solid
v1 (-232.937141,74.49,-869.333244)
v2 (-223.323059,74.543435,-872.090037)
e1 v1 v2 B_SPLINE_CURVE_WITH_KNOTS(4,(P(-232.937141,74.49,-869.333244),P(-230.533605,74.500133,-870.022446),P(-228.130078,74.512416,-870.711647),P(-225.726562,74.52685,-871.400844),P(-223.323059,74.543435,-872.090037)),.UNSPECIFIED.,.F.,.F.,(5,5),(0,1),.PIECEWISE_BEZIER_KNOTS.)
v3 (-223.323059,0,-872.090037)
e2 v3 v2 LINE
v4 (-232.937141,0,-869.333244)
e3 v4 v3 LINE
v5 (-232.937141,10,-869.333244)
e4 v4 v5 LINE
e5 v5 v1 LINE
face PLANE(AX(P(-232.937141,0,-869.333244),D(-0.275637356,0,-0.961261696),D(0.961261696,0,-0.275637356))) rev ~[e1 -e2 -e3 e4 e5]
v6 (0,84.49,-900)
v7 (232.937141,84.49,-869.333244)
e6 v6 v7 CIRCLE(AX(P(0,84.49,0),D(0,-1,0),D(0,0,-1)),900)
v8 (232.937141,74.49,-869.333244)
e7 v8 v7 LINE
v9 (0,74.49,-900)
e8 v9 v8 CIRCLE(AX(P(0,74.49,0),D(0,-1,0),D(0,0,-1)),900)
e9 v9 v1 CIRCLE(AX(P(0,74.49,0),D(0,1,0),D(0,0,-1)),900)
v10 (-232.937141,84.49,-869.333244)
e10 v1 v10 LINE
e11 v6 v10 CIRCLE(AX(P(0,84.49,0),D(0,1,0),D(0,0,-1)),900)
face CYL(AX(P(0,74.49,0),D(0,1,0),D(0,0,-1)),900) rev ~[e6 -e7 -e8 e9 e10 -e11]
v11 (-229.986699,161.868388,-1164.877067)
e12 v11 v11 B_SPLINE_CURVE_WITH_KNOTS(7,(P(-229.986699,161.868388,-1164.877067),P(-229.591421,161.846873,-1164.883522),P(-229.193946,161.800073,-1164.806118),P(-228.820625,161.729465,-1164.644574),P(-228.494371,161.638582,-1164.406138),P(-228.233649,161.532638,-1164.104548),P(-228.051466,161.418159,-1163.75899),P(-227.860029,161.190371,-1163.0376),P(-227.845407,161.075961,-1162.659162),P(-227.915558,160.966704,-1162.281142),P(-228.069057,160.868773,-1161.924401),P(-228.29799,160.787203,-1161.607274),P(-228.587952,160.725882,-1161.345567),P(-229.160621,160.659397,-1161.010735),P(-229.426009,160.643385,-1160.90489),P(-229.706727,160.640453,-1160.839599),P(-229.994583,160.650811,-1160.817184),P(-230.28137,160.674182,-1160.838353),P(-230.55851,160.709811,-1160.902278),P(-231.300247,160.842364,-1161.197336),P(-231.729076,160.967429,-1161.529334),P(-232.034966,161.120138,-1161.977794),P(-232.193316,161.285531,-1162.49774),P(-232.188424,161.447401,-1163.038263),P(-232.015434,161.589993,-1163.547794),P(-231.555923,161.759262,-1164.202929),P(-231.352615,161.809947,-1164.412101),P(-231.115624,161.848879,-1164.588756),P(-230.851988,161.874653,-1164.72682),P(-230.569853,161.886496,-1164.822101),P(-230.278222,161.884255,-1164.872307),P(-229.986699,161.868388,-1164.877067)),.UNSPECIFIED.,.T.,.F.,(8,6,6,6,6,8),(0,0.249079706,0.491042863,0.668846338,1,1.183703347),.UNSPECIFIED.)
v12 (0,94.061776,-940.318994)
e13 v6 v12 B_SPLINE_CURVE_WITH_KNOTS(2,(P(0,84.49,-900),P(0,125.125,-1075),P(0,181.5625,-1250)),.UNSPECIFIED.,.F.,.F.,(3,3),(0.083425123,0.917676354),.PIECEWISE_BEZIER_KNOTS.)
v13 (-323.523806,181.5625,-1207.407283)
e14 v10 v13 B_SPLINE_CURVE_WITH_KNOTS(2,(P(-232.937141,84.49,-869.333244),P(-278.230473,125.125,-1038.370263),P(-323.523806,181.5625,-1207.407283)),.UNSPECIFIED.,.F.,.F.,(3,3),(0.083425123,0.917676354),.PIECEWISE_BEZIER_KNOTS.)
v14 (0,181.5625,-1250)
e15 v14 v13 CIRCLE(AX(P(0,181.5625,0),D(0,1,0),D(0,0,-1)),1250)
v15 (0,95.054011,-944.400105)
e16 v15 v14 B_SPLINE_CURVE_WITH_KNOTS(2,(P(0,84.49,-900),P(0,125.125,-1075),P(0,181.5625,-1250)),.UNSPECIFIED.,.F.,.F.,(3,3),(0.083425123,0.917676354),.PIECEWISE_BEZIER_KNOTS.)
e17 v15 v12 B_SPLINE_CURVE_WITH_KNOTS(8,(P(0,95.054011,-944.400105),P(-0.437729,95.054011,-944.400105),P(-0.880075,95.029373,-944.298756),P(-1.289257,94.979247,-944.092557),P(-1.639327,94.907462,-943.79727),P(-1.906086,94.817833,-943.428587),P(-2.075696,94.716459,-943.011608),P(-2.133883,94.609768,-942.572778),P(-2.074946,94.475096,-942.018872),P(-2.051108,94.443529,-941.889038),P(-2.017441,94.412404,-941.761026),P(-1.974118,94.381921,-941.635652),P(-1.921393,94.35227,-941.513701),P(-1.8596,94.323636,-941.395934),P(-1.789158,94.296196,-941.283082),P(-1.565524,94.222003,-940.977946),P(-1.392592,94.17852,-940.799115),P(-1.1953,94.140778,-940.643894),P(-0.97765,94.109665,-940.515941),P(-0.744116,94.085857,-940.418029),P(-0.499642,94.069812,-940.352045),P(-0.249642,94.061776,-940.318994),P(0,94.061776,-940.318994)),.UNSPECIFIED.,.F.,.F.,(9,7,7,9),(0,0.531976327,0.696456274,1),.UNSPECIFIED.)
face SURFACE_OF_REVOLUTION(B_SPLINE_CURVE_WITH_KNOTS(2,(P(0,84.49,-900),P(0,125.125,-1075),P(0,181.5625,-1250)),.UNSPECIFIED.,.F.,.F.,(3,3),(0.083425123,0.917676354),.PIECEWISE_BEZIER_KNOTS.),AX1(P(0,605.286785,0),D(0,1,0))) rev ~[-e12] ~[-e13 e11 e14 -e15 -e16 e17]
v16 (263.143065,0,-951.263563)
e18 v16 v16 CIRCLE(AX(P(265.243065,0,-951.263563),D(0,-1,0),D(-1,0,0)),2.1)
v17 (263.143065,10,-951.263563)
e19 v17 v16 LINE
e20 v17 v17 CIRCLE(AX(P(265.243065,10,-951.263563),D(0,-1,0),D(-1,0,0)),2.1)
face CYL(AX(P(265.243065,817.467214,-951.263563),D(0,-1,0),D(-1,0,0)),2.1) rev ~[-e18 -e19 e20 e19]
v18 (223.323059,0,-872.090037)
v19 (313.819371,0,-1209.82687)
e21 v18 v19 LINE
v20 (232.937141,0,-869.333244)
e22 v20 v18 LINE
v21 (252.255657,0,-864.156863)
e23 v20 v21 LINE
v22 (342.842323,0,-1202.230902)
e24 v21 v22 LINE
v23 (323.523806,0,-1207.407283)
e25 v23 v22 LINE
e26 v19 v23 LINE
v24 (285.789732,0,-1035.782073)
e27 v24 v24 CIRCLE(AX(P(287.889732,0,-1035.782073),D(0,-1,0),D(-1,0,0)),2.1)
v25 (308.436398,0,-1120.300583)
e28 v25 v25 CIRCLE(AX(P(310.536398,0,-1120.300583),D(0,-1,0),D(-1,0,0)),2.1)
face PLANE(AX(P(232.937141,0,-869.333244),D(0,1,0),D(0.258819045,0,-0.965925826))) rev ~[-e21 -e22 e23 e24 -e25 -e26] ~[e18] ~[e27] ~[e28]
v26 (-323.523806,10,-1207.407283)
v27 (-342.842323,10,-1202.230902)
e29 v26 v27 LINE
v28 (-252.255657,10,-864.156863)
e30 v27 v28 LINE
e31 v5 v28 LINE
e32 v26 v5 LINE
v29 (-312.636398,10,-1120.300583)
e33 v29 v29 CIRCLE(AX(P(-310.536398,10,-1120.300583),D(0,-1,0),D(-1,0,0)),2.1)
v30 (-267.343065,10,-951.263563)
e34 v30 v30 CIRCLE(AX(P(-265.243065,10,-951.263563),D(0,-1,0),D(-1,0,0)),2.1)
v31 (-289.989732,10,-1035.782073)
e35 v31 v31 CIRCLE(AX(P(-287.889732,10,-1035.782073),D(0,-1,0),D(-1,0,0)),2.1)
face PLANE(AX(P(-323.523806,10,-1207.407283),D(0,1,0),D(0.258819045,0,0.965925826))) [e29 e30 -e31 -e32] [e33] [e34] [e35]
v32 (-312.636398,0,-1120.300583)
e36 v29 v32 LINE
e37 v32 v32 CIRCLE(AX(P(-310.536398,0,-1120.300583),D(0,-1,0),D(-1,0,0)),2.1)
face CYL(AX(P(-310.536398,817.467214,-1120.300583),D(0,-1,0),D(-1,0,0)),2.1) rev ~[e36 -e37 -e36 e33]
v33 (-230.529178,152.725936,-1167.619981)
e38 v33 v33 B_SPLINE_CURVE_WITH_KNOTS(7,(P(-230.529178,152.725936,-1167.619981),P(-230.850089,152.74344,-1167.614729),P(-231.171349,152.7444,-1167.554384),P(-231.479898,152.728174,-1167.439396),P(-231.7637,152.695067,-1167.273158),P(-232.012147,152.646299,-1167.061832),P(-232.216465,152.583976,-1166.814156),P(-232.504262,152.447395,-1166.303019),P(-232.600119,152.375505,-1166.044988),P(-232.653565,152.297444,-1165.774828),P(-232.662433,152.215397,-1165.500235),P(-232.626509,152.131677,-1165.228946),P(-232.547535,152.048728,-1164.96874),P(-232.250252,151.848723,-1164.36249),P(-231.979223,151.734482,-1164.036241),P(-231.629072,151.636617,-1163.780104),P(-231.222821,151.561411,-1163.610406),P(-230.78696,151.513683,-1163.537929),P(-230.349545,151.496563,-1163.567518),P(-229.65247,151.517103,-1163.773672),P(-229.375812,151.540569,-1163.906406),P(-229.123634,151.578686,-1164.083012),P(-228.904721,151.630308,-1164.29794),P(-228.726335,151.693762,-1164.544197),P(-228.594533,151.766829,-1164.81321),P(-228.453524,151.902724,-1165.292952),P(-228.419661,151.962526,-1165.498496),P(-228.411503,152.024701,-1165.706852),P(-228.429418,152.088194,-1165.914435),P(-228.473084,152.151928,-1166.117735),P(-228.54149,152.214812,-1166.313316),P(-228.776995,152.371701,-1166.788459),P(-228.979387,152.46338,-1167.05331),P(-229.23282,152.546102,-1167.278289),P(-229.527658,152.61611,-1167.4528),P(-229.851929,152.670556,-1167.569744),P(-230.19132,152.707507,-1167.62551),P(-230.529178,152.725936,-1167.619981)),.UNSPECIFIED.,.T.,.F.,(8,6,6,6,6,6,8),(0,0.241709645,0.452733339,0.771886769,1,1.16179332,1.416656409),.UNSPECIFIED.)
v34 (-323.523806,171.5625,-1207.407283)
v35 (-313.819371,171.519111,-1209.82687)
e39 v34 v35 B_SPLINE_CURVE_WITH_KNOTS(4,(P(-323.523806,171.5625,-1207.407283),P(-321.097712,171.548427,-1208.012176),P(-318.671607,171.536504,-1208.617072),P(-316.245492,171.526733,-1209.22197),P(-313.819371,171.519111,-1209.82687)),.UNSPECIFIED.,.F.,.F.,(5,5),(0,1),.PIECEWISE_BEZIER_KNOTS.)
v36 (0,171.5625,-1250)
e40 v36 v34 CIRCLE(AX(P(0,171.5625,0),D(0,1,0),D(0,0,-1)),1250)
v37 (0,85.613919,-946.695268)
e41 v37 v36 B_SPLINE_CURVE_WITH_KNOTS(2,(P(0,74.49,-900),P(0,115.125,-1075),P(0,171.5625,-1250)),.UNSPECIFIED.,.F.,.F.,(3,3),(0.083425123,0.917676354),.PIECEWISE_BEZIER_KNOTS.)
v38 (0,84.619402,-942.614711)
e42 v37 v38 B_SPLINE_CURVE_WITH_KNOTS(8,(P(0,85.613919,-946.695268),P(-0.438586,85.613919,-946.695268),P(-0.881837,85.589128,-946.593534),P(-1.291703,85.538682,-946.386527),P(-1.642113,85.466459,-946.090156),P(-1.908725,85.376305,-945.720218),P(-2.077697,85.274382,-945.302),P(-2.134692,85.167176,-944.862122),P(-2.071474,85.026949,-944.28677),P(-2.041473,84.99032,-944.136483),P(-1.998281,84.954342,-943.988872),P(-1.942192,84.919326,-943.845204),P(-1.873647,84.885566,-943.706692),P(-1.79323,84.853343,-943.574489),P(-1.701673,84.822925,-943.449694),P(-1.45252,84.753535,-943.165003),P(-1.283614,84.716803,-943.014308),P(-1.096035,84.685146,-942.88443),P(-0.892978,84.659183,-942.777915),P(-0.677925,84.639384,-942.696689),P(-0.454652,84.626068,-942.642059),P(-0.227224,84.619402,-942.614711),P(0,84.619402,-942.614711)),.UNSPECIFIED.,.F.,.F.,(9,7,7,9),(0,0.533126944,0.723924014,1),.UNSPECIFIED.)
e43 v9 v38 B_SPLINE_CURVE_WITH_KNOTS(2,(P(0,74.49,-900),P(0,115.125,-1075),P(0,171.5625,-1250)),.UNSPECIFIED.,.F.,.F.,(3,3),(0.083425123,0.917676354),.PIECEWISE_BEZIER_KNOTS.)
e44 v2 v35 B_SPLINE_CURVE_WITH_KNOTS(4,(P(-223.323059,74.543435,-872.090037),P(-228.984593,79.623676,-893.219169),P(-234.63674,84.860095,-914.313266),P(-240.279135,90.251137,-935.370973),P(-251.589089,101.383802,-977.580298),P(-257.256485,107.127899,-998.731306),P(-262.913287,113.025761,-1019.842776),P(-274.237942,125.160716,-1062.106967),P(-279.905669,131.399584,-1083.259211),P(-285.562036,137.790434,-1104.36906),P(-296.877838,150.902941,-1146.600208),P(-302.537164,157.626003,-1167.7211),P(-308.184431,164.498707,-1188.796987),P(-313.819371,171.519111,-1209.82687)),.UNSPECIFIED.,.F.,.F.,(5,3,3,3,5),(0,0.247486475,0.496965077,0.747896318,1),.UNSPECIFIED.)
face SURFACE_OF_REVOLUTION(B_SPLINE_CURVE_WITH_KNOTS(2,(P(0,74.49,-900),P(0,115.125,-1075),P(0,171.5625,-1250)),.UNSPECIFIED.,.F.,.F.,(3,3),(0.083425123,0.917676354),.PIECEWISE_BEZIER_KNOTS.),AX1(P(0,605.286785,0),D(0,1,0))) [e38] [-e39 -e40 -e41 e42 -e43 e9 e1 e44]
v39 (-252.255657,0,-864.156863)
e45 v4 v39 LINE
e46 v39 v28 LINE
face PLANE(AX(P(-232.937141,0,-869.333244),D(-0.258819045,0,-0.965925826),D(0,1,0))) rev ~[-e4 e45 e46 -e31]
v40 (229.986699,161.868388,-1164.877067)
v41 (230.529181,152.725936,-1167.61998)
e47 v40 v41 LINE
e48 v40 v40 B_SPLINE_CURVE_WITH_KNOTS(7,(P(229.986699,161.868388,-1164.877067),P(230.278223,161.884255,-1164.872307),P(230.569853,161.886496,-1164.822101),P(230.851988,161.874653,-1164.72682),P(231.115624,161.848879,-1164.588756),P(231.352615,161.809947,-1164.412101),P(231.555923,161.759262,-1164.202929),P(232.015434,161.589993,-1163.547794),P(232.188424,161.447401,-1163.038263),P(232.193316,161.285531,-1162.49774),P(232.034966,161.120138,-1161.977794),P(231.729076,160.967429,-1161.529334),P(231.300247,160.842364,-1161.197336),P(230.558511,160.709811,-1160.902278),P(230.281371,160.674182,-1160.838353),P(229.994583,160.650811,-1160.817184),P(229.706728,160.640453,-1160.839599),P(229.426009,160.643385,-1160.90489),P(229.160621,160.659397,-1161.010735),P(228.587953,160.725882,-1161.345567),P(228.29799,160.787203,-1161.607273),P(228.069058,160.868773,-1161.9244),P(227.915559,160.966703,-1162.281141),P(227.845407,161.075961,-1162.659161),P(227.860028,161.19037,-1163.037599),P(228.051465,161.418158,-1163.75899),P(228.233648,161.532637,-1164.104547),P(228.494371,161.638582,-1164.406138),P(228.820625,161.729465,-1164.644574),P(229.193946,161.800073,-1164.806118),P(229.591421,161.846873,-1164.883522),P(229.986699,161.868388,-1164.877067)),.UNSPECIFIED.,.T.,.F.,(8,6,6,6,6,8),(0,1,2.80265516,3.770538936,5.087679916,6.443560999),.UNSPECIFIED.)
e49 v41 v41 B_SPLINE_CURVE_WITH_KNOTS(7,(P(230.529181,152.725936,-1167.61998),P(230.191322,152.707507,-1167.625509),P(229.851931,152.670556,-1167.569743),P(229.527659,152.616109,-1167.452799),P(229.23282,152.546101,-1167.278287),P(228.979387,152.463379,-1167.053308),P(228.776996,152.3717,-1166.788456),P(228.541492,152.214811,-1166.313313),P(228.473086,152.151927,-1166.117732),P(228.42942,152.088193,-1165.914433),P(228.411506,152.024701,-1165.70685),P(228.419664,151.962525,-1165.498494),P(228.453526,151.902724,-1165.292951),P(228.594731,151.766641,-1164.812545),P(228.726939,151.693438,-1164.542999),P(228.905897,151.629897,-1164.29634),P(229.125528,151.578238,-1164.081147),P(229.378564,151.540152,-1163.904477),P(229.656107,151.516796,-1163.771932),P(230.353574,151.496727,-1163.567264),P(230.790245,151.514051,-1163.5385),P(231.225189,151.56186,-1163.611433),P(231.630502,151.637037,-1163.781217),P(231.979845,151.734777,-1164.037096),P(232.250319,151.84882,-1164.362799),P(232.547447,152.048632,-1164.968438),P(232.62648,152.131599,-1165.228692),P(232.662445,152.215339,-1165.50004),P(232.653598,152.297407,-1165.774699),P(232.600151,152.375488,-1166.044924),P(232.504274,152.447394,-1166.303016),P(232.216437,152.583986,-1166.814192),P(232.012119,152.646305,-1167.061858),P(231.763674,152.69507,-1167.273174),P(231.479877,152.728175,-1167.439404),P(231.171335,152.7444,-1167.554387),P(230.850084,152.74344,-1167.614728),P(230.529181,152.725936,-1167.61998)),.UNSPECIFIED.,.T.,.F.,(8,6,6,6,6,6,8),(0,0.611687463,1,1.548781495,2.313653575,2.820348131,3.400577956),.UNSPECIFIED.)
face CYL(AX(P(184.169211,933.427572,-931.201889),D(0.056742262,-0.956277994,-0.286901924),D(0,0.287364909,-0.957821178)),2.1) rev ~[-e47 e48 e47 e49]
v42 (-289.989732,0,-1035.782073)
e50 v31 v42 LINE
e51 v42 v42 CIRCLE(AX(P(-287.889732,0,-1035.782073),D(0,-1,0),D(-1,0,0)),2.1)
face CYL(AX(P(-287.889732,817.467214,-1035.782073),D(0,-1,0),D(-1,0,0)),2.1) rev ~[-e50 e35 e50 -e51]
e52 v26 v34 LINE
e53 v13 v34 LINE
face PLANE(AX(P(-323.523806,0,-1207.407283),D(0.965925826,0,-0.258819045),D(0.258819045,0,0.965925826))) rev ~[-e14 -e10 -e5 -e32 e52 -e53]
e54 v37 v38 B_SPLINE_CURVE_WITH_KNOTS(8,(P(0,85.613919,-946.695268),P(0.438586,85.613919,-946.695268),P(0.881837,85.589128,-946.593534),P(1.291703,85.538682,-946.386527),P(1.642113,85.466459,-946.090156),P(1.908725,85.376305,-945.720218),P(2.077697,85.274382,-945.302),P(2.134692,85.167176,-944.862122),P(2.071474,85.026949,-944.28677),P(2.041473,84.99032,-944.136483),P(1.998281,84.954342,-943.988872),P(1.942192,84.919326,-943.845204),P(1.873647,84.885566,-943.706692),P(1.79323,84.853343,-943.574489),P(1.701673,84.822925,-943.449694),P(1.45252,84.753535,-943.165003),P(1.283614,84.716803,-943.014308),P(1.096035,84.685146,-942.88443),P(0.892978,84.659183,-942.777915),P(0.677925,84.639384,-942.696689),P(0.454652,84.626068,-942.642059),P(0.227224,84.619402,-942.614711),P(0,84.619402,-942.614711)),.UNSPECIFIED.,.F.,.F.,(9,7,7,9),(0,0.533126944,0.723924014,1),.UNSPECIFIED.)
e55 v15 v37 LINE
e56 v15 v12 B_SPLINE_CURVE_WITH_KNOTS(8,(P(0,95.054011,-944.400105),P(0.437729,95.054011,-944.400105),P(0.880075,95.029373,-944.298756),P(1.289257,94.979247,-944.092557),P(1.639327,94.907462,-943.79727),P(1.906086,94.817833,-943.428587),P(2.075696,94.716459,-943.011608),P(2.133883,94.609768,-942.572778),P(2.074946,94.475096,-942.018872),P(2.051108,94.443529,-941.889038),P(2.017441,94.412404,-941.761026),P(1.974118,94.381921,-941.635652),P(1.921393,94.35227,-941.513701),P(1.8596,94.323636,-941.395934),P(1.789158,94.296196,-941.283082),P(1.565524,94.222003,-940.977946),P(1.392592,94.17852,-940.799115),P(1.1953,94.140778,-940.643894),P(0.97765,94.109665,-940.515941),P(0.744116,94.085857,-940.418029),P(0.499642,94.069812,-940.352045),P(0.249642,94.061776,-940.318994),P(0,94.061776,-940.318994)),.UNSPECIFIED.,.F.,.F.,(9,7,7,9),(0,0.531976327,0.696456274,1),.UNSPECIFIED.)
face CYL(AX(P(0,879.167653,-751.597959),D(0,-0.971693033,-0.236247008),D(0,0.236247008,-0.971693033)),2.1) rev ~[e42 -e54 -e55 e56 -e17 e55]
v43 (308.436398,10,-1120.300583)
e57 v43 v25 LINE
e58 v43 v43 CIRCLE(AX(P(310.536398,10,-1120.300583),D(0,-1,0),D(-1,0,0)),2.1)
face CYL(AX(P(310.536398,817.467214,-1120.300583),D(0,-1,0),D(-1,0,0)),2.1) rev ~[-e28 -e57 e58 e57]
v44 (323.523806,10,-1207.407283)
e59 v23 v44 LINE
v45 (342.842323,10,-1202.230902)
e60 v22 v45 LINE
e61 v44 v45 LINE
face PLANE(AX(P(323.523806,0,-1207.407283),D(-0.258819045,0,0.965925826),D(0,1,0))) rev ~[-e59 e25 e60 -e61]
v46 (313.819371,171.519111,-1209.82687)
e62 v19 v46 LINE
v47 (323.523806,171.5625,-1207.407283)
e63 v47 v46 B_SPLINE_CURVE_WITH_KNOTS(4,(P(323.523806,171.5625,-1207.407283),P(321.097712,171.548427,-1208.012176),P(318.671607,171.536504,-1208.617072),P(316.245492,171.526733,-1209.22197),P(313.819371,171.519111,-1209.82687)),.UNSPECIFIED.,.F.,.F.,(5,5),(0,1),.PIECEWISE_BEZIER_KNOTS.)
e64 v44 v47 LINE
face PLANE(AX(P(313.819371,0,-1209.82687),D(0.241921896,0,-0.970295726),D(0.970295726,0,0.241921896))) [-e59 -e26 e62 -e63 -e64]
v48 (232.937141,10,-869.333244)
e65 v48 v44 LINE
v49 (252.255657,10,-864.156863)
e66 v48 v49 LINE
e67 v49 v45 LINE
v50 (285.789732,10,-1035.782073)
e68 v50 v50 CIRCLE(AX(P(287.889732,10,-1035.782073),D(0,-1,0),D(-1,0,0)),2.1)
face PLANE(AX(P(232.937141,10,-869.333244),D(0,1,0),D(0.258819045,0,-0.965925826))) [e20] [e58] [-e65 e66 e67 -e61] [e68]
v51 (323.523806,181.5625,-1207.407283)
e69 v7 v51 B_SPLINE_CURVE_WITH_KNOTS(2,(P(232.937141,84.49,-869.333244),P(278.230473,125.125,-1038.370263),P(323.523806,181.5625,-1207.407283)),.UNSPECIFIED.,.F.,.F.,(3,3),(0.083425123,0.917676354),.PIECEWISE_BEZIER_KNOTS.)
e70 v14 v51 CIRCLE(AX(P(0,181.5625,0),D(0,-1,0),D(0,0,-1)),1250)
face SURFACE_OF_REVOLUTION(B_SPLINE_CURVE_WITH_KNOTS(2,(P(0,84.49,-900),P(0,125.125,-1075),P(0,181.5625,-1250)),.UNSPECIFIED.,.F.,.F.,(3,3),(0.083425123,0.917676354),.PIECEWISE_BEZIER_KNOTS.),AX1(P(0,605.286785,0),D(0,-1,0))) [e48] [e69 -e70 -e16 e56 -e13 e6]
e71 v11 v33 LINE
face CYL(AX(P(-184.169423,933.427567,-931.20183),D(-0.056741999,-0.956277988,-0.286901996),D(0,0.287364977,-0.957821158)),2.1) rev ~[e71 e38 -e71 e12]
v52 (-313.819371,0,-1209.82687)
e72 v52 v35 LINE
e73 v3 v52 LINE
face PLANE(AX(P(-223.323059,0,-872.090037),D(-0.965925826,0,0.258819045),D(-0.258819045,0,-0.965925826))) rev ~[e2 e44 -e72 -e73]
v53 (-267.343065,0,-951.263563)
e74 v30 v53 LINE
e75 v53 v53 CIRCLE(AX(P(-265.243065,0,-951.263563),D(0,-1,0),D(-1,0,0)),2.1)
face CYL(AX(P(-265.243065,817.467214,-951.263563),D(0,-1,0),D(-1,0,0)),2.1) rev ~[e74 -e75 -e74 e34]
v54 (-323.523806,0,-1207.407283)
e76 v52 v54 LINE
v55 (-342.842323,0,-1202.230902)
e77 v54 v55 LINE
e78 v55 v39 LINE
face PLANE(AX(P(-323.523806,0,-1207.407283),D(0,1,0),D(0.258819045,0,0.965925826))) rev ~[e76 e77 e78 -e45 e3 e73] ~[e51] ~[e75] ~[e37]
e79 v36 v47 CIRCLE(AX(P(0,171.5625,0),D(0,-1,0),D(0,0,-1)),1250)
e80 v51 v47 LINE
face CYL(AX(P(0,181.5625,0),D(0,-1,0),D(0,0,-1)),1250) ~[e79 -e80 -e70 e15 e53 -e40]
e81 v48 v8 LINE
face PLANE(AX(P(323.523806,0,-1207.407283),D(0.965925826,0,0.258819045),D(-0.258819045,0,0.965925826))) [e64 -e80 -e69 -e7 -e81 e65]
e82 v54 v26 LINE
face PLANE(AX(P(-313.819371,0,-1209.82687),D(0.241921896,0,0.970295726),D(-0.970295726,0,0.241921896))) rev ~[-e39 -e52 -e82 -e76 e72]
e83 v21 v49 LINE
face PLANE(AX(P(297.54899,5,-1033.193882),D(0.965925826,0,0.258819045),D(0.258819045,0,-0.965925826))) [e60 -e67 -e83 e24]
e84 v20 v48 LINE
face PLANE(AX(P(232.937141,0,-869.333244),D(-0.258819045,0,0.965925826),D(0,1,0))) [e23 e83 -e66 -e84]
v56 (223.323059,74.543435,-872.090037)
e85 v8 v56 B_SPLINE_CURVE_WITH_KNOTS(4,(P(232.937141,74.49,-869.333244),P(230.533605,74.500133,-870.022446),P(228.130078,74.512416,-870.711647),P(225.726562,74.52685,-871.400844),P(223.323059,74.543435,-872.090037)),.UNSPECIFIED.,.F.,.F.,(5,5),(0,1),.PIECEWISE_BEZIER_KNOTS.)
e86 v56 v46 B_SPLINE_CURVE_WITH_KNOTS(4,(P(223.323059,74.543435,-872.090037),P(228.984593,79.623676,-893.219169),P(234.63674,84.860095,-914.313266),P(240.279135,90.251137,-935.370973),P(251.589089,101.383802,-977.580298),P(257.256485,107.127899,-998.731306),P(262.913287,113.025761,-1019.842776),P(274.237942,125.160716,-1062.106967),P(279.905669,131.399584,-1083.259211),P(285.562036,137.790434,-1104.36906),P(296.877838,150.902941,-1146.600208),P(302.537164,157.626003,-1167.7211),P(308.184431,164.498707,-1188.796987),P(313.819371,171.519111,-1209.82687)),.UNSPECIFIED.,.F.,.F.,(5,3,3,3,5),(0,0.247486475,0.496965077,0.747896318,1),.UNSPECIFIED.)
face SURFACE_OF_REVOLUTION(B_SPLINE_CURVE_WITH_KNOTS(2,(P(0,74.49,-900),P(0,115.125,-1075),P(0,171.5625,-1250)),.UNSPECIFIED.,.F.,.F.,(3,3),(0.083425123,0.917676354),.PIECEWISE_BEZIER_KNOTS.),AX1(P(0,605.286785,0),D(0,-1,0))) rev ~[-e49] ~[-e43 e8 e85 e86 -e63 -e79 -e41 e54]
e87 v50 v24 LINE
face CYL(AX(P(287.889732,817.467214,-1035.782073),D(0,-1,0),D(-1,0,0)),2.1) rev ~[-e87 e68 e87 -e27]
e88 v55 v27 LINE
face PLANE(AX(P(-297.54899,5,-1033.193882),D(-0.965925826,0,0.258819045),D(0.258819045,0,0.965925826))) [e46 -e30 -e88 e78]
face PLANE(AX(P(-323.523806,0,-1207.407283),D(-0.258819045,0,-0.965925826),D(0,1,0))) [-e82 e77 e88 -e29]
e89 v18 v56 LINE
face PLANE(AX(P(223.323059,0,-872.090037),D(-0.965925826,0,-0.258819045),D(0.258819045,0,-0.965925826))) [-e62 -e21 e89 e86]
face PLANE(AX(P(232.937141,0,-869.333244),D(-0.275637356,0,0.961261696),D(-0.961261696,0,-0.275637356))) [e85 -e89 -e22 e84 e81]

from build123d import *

# Parameters (mm, degrees)
REVOLVE_1_ANGLE             = 15
REVOLVE_1_OTHER_WAY_ANGLE   = 15
EXTRUDE_1_REACH             = 1305.891
SKETCH_6_W                  = 350.000000001
SKETCH_6_H                  = 10
EXTRUDE_2_DEPTH             = 20
SKETCH_7_W                  = 350.000000001
SKETCH_7_H                  = 10
EXTRUDE_3_DEPTH             = 20
HOLE_WIZARD_M51_D           = 4.2
HOLE_WIZARD_M51_ON_FACE_2_D = 4.2
HOLE_WIZARD_M51_ON_FACE_3_D = 4.2
HOLE_WIZARD_M52_D           = 4.2


with BuildPart() as part:
    # Эскиз2 → Повернуть1 (revolve)
    with BuildSketch(Plane(origin=(0, 0, 0), x_dir=(0, 0, -1), z_dir=(1, 0, 0))):
        with BuildLine():
            Line((1250.000000001, 181.562500008), (1250.000000001, 171.562500008))
            add(Edge.make_bspline(
                [(900, 74.490000004), (1075.000000001, 115.125000006), (1250.000000001, 171.562500008)],
                knots=[0.083425123, 0.083425123, 0.083425123, 0.917676354, 0.917676354, 0.917676354], degree=2))
            Line((900, 74.490000004), (900, 84.490000004))
            add(Edge.make_bspline(
                [(900, 84.490000004), (1075.000000001, 125.125000006), (1250.000000001, 181.562500008)],
                knots=[0.083425123, 0.083425123, 0.083425123, 0.917676354, 0.917676354, 0.917676354], degree=2))
        make_face()
    revolve(axis=Axis((0, 605.286784652, 0), (0, -1, 0)), revolution_arc=REVOLVE_1_ANGLE)

    # Эскиз2 → Повернуть1 other way (revolve)
    with BuildSketch(Plane(origin=(0, 0, 0), x_dir=(0, 0, -1), z_dir=(1, 0, 0))):
        with BuildLine():
            Line((1250.000000001, 181.562500008), (1250.000000001, 171.562500008))
            add(Edge.make_bspline(
                [(900, 74.490000004), (1075.000000001, 115.125000006), (1250.000000001, 171.562500008)],
                knots=[0.083425123, 0.083425123, 0.083425123, 0.917676354, 0.917676354, 0.917676354], degree=2))
            Line((900, 74.490000004), (900, 84.490000004))
            add(Edge.make_bspline(
                [(900, 84.490000004), (1075.000000001, 125.125000006), (1250.000000001, 181.562500008)],
                knots=[0.083425123, 0.083425123, 0.083425123, 0.917676354, 0.917676354, 0.917676354], degree=2))
        make_face()
    revolve(axis=Axis((0, 605.286784652, 0), (0, 1, 0)), revolution_arc=REVOLVE_1_OTHER_WAY_ANGLE)

    # Эскиз5 → Бобышка-Вытянуть1 (add, up to next)
    with BuildSketch(Plane(origin=(0, 0, 0), x_dir=(1, 0, 0), z_dir=(0, 1, 0)), mode=Mode.PRIVATE) as extrude_1_sk1:
        Polygon((-323.523806378, 1207.407282862), (-232.937140592, 869.33324366), (-223.323059362, 872.090037092), (-313.819371083, 1209.826870333), align=None)
    extrude_1_tool1 = extrude(extrude_1_sk1.sketch, amount=EXTRUDE_1_REACH, mode=Mode.PRIVATE) - part.part
    # Эскиз5 → Бобышка-Вытянуть1 (add, up to next)
    with BuildSketch(Plane(origin=(0, 0, 0), x_dir=(1, 0, 0), z_dir=(0, 1, 0)), mode=Mode.PRIVATE) as extrude_1_sk2:
        Polygon((323.523806378, 1207.407282862), (232.937140592, 869.33324366), (223.323059362, 872.090037092), (313.819371083, 1209.826870333), align=None)
    extrude_1_tool2 = extrude(extrude_1_sk2.sketch, amount=EXTRUDE_1_REACH, mode=Mode.PRIVATE) - part.part
    add(extrude_1_tool1.solids().sort_by_distance((-273.401648, 0, -1039.664143))[0])
    add(extrude_1_tool2.solids().sort_by_distance((273.401648, 0, -1039.664143))[0])

    # Эскиз6 → Бобышка-Вытянуть2 (add)
    with BuildSketch(Plane(origin=(0, 0, 0), x_dir=(0.25881904510252135, 0, 0.9659258262890682), z_dir=(-0.9659258262890681, 0, 0.2588190451025213))):
        with Locations((-1075, 5)):
            Rectangle(SKETCH_6_W, SKETCH_6_H)
    extrude(amount=EXTRUDE_2_DEPTH)

    # Эскиз7 → Бобышка-Вытянуть3 (add)
    with BuildSketch(Plane(origin=(0, 0, 0), x_dir=(0.25881904510252124, 0, -0.9659258262890682), z_dir=(0.9659258262890682, 0, 0.25881904510252124))):
        with Locations((1075, 5)):
            Rectangle(SKETCH_7_W, SKETCH_7_H)
    extrude(amount=EXTRUDE_3_DEPTH)

    # Отверстие обработанное метчиком M51 (through all)
    with Locations(Plane(origin=(229.986727308, 161.264444267, -1162.865785876), x_dir=(0, -0.28736490905, 0.957821178011), z_dir=(-0.056742261531, 0.956277993991, 0.286901923948))):
        with Locations((0, 0)):
            Hole(HOLE_WIZARD_M51_D / 2)

    # Отверстие обработанное метчиком M51 on face 2 (through all)
    with Locations(Plane(origin=(-229.986727308, 161.264444267, -1162.865785876), x_dir=(0, -0.287364977278, 0.957821157542), z_dir=(0.056741999278, 0.95627798783, 0.286901996349))):
        with Locations((0, 0)):
            Hole(HOLE_WIZARD_M51_ON_FACE_2_D / 2)

    # Отверстие обработанное метчиком M51 on face 3 (through all)
    with Locations(Plane(origin=(0, 94.55738613, -942.359672798), x_dir=(0, -0.23624700812, 0.971693033398), z_dir=(0, 0.971693033398, 0.23624700812))):
        with Locations((-1e-09, 0)):
            Hole(HOLE_WIZARD_M51_ON_FACE_3_D / 2)

    # Отверстие обработанное метчиком M52 (through all)
    with Locations(Plane(origin=(0, 10, 0), x_dir=(1, 0, 0), z_dir=(0, 1, 0))):
        with Locations((-310.536398195, 1120.300582611), (-287.889731748, 1035.782072811), (-265.243065302, 951.26356301), (310.536398196, 1120.300582611), (287.889731751, 1035.78207281), (265.243065306, 951.263563009)):
            Hole(HOLE_WIZARD_M52_D / 2)


solid = part.part
